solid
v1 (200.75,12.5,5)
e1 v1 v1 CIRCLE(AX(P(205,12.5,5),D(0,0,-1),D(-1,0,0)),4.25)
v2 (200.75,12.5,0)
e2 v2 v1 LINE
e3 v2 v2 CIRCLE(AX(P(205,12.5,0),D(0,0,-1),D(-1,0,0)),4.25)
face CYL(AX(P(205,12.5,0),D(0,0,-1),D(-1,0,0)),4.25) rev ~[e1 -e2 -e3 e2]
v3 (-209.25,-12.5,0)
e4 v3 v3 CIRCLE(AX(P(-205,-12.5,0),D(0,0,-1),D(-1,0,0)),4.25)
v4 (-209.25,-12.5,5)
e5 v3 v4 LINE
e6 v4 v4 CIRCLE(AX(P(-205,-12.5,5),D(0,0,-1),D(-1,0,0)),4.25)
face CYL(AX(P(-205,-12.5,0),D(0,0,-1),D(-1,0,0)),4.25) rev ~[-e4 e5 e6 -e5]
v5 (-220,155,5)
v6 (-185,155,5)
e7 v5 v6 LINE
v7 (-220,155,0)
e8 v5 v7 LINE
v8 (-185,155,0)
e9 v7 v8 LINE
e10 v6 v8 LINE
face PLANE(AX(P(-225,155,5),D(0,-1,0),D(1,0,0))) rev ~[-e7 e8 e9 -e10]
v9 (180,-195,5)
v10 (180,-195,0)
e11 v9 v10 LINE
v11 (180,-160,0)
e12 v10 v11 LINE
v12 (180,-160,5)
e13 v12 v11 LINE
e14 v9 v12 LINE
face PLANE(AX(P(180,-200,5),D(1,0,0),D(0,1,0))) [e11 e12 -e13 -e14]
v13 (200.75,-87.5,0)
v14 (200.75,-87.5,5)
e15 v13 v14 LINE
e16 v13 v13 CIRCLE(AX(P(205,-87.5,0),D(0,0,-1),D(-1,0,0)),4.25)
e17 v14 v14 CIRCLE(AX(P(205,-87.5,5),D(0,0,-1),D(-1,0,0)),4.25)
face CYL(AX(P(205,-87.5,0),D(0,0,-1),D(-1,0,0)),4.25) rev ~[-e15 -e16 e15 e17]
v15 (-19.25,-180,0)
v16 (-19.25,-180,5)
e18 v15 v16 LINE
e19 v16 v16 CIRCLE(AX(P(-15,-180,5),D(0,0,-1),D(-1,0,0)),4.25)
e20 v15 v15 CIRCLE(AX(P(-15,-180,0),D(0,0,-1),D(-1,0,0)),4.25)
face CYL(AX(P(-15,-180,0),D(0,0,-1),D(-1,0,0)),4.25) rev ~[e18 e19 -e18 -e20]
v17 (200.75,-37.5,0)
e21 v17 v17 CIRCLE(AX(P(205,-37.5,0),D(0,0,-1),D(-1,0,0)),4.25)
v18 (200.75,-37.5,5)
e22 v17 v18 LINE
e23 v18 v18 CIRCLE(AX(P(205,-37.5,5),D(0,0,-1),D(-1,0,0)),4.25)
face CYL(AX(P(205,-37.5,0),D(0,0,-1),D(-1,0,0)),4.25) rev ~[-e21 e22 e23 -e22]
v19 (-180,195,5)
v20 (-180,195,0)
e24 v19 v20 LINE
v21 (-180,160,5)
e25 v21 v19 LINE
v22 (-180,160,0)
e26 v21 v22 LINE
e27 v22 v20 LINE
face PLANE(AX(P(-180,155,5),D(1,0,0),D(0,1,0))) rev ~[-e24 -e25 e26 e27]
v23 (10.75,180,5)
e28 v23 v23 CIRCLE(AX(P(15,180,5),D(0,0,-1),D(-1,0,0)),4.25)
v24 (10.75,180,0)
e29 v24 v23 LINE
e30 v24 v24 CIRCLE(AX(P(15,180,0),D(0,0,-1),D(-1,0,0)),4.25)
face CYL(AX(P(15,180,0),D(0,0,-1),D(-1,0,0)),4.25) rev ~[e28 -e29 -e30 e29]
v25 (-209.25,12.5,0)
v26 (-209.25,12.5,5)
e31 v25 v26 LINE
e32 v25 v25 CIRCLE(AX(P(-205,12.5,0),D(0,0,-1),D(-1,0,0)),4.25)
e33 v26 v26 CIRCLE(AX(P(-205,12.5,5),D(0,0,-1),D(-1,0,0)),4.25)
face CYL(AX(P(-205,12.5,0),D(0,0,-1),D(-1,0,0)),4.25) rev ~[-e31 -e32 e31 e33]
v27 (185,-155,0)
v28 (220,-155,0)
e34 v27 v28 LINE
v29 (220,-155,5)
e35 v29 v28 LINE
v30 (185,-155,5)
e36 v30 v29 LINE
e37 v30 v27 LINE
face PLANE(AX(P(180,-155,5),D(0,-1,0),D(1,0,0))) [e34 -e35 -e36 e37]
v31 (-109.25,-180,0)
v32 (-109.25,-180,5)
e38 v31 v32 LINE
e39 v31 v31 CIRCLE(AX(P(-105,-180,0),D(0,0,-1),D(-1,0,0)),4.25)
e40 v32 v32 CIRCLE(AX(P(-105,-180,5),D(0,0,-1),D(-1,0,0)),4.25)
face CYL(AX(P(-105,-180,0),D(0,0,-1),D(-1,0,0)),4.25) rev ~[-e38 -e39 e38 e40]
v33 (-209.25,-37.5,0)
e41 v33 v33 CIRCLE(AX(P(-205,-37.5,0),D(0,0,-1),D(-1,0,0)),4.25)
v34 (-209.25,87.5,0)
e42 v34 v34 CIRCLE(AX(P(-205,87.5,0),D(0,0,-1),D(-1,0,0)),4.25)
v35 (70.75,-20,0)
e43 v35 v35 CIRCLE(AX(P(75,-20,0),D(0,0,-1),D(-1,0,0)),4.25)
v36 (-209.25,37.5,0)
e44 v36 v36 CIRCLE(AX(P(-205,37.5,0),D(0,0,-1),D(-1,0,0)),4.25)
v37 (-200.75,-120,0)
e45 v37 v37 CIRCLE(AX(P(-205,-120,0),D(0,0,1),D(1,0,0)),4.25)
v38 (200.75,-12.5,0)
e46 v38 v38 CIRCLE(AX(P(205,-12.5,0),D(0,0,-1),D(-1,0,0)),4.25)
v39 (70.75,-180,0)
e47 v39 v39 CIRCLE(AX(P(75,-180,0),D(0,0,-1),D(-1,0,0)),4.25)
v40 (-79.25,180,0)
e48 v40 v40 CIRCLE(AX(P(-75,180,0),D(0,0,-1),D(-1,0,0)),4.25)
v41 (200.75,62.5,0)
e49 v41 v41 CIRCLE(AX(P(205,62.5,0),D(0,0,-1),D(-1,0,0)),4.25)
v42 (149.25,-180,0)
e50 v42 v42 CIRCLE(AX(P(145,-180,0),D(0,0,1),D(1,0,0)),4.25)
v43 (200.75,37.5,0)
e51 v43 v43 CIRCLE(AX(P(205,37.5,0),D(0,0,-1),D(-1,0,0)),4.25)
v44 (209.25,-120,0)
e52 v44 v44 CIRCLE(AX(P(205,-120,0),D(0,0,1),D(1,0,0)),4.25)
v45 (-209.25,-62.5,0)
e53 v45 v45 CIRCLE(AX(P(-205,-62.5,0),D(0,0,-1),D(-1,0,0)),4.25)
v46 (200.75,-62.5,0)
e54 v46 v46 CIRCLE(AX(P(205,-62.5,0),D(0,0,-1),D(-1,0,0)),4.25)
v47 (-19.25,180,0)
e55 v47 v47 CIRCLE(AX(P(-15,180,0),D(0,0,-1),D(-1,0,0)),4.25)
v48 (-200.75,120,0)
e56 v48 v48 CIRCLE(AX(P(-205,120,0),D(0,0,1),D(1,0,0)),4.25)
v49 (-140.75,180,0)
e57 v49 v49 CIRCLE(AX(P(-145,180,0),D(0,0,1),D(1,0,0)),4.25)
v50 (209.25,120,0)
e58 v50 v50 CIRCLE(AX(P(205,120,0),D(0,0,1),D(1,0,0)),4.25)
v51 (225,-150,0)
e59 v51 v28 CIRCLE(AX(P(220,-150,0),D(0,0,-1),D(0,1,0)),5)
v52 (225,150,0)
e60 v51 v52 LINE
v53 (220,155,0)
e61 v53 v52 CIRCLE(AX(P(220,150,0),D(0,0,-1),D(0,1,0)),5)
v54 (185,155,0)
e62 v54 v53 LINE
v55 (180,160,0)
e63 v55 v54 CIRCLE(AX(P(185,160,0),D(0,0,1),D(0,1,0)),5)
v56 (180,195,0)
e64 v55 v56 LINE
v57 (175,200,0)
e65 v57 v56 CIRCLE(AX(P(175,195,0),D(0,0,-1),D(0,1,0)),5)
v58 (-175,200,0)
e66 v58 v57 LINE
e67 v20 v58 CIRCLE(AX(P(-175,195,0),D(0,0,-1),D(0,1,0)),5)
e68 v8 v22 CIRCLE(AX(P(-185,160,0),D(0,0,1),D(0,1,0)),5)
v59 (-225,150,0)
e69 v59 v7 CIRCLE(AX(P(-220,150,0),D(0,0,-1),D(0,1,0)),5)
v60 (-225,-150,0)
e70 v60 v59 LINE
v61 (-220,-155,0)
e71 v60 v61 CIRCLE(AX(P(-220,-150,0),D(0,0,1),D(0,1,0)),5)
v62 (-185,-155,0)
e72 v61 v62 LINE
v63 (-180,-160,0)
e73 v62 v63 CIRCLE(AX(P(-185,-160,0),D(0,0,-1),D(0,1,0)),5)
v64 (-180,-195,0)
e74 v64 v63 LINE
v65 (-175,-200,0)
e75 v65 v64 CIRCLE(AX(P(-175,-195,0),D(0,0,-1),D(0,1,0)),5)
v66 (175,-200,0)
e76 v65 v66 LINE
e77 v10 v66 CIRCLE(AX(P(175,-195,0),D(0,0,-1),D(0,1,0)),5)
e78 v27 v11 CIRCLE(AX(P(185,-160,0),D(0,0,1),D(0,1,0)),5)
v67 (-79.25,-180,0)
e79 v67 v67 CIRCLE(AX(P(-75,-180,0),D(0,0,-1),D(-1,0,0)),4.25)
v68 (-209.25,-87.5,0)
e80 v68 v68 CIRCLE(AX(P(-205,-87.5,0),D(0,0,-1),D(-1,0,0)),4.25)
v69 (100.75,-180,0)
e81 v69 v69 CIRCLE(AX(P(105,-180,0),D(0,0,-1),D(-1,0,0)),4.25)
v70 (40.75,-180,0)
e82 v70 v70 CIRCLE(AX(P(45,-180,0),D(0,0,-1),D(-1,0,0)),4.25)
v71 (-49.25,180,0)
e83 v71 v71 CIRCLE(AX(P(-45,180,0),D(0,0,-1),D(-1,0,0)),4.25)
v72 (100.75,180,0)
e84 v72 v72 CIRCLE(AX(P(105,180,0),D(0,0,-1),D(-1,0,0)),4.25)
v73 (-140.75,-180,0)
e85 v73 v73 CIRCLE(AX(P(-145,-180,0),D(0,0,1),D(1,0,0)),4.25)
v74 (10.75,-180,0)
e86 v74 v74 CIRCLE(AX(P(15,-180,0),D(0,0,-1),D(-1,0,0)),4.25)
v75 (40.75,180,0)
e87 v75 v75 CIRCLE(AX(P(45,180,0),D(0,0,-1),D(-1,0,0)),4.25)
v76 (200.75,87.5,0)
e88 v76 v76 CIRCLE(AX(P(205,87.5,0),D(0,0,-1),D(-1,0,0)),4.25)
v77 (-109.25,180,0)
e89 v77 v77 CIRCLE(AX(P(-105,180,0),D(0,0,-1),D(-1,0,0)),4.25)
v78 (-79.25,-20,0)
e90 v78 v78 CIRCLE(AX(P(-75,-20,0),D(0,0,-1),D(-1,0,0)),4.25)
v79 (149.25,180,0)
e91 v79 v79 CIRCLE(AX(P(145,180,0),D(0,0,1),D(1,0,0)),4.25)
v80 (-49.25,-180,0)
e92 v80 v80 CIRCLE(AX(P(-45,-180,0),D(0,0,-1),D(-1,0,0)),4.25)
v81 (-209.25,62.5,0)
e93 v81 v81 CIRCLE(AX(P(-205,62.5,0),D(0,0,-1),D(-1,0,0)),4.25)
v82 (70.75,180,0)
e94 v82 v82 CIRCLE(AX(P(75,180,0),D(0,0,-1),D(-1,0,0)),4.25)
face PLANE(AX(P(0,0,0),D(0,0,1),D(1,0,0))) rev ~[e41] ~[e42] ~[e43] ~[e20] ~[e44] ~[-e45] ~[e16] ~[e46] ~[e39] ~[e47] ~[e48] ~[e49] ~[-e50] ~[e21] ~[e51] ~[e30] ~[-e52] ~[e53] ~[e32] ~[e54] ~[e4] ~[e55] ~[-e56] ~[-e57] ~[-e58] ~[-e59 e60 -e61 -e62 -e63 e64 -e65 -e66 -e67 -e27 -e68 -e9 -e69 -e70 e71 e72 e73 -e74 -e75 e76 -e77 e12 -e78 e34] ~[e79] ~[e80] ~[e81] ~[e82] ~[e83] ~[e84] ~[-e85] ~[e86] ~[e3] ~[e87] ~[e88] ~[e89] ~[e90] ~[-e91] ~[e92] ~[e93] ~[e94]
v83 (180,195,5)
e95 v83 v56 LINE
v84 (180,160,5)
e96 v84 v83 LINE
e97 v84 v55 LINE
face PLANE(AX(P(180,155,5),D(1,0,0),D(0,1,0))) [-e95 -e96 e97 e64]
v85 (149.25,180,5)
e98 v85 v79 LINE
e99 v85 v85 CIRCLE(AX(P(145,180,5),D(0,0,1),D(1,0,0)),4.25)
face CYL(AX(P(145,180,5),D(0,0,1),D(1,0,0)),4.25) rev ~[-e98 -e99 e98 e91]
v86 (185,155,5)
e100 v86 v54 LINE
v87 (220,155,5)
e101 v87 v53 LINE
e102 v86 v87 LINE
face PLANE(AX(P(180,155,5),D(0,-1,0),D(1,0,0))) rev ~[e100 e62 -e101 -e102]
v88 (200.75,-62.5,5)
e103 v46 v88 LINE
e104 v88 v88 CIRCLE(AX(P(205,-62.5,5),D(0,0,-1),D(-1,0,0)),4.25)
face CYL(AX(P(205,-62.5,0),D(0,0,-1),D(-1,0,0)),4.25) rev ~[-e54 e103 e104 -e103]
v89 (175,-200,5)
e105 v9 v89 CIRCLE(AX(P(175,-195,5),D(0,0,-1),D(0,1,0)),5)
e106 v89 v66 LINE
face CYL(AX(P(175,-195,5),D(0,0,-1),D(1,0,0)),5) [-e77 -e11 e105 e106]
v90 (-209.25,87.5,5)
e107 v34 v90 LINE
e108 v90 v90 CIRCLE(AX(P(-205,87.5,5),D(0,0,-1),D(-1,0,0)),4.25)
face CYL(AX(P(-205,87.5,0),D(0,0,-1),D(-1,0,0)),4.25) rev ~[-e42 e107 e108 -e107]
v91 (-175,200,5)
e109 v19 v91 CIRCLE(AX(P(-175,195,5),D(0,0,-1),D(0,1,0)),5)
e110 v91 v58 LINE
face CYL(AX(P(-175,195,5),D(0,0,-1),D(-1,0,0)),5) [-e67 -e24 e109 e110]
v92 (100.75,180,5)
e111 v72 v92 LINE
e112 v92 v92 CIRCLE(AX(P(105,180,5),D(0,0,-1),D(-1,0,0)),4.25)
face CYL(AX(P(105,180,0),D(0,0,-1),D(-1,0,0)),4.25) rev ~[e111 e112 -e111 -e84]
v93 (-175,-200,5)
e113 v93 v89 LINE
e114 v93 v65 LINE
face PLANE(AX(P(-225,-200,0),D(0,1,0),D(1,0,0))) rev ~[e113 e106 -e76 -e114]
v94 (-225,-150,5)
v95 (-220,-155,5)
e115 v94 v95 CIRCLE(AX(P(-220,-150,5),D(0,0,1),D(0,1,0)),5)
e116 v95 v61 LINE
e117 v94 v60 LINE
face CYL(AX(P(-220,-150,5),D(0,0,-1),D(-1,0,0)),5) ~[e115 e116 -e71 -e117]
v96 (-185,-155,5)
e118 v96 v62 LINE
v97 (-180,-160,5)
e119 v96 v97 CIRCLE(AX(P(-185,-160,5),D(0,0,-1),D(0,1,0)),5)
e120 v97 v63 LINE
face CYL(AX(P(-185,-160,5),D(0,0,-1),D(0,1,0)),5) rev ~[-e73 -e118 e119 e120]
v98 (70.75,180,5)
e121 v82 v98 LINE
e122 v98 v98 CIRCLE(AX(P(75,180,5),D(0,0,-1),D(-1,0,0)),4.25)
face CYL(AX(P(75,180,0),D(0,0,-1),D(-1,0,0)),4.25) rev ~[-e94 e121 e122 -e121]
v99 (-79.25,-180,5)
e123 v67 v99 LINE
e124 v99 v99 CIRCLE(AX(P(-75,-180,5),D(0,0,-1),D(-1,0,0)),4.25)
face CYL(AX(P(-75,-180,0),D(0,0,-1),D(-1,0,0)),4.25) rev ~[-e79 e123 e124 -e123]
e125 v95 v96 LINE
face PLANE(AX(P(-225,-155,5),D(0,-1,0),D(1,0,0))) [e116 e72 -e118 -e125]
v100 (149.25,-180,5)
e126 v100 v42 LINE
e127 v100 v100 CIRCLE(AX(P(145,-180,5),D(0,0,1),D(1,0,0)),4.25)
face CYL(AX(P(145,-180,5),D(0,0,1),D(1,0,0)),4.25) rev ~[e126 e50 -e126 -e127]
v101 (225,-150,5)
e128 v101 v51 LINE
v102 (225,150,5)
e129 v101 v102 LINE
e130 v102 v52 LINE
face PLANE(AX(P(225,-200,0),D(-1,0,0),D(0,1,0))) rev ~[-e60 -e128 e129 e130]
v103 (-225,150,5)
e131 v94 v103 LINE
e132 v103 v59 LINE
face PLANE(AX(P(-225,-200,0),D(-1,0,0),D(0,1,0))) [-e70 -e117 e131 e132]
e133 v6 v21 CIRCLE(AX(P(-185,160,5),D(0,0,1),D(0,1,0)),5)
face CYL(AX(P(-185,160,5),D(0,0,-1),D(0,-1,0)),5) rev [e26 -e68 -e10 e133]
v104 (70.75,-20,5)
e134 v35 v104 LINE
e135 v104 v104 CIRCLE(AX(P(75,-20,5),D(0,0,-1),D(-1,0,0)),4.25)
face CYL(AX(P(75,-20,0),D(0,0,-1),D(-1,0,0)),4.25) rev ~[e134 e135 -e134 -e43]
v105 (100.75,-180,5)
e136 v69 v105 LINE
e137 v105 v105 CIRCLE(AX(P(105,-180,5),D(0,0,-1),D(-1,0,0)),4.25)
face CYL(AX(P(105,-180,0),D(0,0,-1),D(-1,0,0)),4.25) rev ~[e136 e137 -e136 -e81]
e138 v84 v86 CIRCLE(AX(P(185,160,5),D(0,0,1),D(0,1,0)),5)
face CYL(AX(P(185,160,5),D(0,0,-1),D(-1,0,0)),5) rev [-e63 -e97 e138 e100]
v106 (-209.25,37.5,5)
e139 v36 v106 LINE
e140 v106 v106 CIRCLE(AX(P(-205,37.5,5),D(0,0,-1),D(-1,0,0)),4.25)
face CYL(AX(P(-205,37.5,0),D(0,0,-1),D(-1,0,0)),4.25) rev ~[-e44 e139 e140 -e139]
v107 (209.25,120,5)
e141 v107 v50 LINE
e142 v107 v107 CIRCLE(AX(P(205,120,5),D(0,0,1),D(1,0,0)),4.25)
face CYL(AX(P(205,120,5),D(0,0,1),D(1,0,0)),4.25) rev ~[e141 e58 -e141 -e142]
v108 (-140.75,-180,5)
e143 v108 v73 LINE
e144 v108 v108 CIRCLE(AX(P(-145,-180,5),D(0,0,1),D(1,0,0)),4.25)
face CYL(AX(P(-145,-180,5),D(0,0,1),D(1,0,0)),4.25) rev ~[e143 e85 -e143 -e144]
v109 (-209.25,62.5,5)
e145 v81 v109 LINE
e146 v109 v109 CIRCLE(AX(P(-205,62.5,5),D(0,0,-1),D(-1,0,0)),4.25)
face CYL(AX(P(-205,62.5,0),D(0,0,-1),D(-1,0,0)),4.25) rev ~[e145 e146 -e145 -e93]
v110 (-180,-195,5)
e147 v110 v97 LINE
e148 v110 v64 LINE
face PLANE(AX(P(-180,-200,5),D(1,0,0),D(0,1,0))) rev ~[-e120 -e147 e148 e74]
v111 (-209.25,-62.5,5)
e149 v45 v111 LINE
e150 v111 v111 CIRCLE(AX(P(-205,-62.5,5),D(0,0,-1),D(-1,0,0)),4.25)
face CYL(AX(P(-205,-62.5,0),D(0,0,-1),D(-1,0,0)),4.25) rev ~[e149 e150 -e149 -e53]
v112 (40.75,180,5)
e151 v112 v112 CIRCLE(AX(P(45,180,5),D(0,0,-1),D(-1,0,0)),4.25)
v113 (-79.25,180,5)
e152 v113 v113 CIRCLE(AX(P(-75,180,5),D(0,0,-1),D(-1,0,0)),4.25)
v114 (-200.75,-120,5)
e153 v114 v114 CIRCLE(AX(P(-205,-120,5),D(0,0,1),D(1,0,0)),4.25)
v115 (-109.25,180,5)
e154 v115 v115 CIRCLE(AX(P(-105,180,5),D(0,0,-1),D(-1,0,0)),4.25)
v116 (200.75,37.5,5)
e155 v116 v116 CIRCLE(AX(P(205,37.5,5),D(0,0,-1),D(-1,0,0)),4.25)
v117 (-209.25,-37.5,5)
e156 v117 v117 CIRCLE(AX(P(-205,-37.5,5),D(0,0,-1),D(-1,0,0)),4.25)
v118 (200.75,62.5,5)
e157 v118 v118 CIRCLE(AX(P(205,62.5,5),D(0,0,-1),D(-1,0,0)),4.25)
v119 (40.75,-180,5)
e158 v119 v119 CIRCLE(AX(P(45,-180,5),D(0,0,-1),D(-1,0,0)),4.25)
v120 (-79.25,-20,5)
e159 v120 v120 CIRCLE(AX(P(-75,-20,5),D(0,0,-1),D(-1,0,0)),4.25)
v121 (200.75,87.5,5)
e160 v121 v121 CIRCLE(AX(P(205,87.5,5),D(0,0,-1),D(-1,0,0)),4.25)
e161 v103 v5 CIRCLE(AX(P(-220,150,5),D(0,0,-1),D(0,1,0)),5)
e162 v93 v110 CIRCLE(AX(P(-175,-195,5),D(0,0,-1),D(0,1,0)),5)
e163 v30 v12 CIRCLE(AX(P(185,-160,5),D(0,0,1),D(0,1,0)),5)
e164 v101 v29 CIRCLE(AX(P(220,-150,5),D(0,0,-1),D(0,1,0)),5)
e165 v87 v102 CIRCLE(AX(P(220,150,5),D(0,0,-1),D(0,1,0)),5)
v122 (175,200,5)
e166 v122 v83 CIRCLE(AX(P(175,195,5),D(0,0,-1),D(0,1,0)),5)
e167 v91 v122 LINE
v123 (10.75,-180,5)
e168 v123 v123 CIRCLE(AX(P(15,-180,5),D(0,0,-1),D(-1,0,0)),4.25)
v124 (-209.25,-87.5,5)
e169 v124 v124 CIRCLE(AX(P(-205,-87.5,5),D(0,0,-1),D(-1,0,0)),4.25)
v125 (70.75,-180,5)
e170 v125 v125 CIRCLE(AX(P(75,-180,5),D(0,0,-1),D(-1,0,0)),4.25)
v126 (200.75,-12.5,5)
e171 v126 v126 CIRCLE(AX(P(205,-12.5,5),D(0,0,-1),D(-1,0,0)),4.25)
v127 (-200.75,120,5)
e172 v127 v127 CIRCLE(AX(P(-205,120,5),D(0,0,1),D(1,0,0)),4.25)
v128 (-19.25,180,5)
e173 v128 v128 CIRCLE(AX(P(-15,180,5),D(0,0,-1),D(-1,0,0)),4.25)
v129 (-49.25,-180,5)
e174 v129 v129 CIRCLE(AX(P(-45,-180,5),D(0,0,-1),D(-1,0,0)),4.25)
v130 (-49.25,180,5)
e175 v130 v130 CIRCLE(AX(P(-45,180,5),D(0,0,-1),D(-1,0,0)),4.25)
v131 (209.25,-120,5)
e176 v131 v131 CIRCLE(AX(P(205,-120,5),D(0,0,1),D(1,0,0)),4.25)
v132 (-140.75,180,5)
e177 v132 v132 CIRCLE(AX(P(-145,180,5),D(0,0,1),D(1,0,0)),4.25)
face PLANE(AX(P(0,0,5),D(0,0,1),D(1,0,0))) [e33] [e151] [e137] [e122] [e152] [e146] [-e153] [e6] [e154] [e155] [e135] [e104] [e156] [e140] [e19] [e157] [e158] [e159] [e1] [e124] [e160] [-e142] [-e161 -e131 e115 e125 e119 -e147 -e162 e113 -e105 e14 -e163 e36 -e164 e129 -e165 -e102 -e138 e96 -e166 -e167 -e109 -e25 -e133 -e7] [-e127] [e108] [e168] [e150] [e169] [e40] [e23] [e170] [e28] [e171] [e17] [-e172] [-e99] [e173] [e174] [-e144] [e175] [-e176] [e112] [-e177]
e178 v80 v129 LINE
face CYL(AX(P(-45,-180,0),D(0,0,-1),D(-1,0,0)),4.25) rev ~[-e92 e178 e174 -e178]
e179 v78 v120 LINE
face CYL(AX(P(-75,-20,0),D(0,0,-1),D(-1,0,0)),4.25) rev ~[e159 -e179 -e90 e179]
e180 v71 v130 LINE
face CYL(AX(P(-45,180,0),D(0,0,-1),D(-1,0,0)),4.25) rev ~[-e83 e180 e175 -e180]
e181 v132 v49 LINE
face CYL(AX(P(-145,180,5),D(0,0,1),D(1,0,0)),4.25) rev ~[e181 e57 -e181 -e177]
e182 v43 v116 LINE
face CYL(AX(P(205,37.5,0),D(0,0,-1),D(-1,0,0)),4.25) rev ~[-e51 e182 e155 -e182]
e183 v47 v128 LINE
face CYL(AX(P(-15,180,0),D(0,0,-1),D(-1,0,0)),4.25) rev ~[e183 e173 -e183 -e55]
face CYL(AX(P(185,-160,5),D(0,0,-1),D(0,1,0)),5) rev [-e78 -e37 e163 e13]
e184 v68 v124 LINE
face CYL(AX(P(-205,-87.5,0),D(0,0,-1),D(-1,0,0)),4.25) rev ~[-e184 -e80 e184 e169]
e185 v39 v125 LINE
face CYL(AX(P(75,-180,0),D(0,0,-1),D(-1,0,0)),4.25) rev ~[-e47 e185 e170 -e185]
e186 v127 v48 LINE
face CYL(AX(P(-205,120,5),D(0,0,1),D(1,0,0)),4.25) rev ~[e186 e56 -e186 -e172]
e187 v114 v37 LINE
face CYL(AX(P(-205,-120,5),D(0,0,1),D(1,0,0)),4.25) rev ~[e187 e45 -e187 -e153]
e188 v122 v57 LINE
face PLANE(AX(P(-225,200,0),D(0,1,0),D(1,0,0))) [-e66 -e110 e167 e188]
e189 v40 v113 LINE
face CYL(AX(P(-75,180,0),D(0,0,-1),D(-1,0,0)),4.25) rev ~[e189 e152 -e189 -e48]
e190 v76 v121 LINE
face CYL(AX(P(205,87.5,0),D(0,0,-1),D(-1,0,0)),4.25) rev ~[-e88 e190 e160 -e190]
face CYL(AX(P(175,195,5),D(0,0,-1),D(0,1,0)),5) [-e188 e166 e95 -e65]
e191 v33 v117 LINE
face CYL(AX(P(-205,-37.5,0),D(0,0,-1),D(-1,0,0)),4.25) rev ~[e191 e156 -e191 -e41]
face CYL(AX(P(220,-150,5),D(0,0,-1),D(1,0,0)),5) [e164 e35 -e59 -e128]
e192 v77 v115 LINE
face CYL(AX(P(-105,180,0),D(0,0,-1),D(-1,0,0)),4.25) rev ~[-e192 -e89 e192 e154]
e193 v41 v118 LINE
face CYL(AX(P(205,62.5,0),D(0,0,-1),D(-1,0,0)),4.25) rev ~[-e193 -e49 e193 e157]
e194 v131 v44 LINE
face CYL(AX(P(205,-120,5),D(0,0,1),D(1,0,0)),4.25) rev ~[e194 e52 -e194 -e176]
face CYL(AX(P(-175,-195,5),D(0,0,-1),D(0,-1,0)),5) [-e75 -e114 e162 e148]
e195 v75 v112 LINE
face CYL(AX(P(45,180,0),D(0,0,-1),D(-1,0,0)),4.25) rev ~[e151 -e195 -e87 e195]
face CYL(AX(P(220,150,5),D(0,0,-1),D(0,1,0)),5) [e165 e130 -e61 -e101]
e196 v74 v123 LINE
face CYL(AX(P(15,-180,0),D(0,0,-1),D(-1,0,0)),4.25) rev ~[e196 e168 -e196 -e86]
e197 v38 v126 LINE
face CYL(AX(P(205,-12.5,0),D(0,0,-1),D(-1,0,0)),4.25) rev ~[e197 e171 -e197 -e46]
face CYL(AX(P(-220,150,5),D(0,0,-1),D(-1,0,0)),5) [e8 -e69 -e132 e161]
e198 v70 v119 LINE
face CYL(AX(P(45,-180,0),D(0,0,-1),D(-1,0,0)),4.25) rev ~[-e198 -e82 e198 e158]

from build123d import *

# Parameters (mm, degrees)
SKETCH_1_W          = 450
SKETCH_1_H          = 400
EXTRUDE_1_DEPTH     = 5
SKETCH_3_R          = 3.75
SKETCH_3_R_2        = 4.25
CUT_EXTRUDE_2_DEPTH = 50
SKETCH_5_W          = 45
SKETCH_5_H          = 45
CUT_EXTRUDE_4_DEPTH = 56
FILLET_1_R          = 5
SKETCH_6_R          = 4.25
CUT_EXTRUDE_5_DEPTH = 90
SKETCH_7_R          = 4.25
CUT_EXTRUDE_6_DEPTH = 90


with BuildPart() as part:
    # 草图1 → 凸台-拉伸1 (new body)
    with BuildSketch(Plane.XY):
        Rectangle(SKETCH_1_W, SKETCH_1_H)
    extrude(amount=EXTRUDE_1_DEPTH)

    # 草图3 → 切除-拉伸2 (cut)
    with BuildSketch(Plane.XY.offset(5)):
        with Locations((205, -180)):
            Circle(SKETCH_3_R)
        with Locations((205, -120)):
            Circle(SKETCH_3_R_2)
        with Locations((145, -180)):
            Circle(SKETCH_3_R_2)
        with Locations((145, 180)):
            Circle(SKETCH_3_R_2)
        with Locations((205, 120)):
            Circle(SKETCH_3_R_2)
        with Locations((205, 180)):
            Circle(SKETCH_3_R)
        with Locations((-205, 180)):
            Circle(SKETCH_3_R)
        with Locations((-205, 120)):
            Circle(SKETCH_3_R_2)
        with Locations((-145, 180)):
            Circle(SKETCH_3_R_2)
        with Locations((-145, -180)):
            Circle(SKETCH_3_R_2)
        with Locations((-205, -120)):
            Circle(SKETCH_3_R_2)
        with Locations((-205, -180)):
            Circle(SKETCH_3_R)
    extrude(amount=-CUT_EXTRUDE_2_DEPTH, mode=Mode.SUBTRACT)

    # 草图5 → 切除-拉伸4 (cut)
    with BuildSketch(Plane.XY.offset(5)):
        with Locations((202.5, -177.5)):
            Rectangle(SKETCH_5_W, SKETCH_5_H)
        with Locations((-202.5, -177.5)):
            Rectangle(SKETCH_5_W, SKETCH_5_H)
        with Locations((-202.5, 177.5)):
            Rectangle(SKETCH_5_W, SKETCH_5_H)
        with Locations((202.5, 177.5)):
            Rectangle(SKETCH_5_W, SKETCH_5_H)
    extrude(amount=-CUT_EXTRUDE_4_DEPTH, mode=Mode.SUBTRACT)

    # 圆角1
    fillet_1_edges = [part.edges().sort_by_distance(p)[0] for p in [
        (-180, -200, 2.5),
        (-225, -155, 2.5),
        (-180, -155, 2.5),
        (225, -155, 2.5),
        (180, -200, 2.5),
        (180, -155, 2.5),
        (180, 200, 2.5),
        (225, 155, 2.5),
        (180, 155, 2.5),
        (-225, 155, 2.5),
        (-180, 200, 2.5),
        (-180, 155, 2.5),
    ]]
    fillet(fillet_1_edges, radius=FILLET_1_R)

    # 草图6 → 切除-拉伸5 (cut)
    with BuildSketch(Plane(origin=(0, 0, 0), x_dir=(-1, 0, 0), z_dir=(0, 0, -1))):
        with Locations((75, -180)):
            Circle(SKETCH_6_R)
        with Locations((-75, -180)):
            Circle(SKETCH_6_R)
        with Locations((-75, -20)):
            Circle(SKETCH_6_R)
        with Locations((75, -20)):
            Circle(SKETCH_6_R)
    extrude(amount=-CUT_EXTRUDE_5_DEPTH, mode=Mode.SUBTRACT)

    # 草图7 → 切除-拉伸6 (cut)
    with BuildSketch(Plane(origin=(0, 0, 0), x_dir=(-1, 0, 0), z_dir=(0, 0, -1))):
        with Locations((-15, 180)):
            Circle(SKETCH_7_R)
        with Locations((-45, 180)):
            Circle(SKETCH_7_R)
        with Locations((-75, 180)):
            Circle(SKETCH_7_R)
        with Locations((-105, 180)):
            Circle(SKETCH_7_R)
        with Locations((-205, 12.5)):
            Circle(SKETCH_7_R)
        with Locations((-205, 37.5)):
            Circle(SKETCH_7_R)
        with Locations((-205, 62.5)):
            Circle(SKETCH_7_R)
        with Locations((-205, 87.5)):
            Circle(SKETCH_7_R)
        with Locations((-205, -87.5)):
            Circle(SKETCH_7_R)
        with Locations((-205, -62.5)):
            Circle(SKETCH_7_R)
        with Locations((-205, -37.5)):
            Circle(SKETCH_7_R)
        with Locations((-205, -12.5)):
            Circle(SKETCH_7_R)
        with Locations((205, -12.5)):
            Circle(SKETCH_7_R)
        with Locations((205, -37.5)):
            Circle(SKETCH_7_R)
        with Locations((205, -62.5)):
            Circle(SKETCH_7_R)
        with Locations((205, -87.5)):
            Circle(SKETCH_7_R)
        with Locations((205, 87.5)):
            Circle(SKETCH_7_R)
        with Locations((205, 62.5)):
            Circle(SKETCH_7_R)
        with Locations((205, 37.5)):
            Circle(SKETCH_7_R)
        with Locations((205, 12.5)):
            Circle(SKETCH_7_R)
        with Locations((105, 180)):
            Circle(SKETCH_7_R)
        with Locations((75, 180)):
            Circle(SKETCH_7_R)
        with Locations((45, 180)):
            Circle(SKETCH_7_R)
        with Locations((15, 180)):
            Circle(SKETCH_7_R)
        with Locations((15, -180)):
            Circle(SKETCH_7_R)
        with Locations((45, -180)):
            Circle(SKETCH_7_R)
        with Locations((75, -180)):
            Circle(SKETCH_7_R)
        with Locations((105, -180)):
            Circle(SKETCH_7_R)
        with Locations((-105, -180)):
            Circle(SKETCH_7_R)
        with Locations((-75, -180)):
            Circle(SKETCH_7_R)
        with Locations((-45, -180)):
            Circle(SKETCH_7_R)
        with Locations((-15, -180)):
            Circle(SKETCH_7_R)
    extrude(amount=-CUT_EXTRUDE_6_DEPTH, mode=Mode.SUBTRACT)


solid = part.part
